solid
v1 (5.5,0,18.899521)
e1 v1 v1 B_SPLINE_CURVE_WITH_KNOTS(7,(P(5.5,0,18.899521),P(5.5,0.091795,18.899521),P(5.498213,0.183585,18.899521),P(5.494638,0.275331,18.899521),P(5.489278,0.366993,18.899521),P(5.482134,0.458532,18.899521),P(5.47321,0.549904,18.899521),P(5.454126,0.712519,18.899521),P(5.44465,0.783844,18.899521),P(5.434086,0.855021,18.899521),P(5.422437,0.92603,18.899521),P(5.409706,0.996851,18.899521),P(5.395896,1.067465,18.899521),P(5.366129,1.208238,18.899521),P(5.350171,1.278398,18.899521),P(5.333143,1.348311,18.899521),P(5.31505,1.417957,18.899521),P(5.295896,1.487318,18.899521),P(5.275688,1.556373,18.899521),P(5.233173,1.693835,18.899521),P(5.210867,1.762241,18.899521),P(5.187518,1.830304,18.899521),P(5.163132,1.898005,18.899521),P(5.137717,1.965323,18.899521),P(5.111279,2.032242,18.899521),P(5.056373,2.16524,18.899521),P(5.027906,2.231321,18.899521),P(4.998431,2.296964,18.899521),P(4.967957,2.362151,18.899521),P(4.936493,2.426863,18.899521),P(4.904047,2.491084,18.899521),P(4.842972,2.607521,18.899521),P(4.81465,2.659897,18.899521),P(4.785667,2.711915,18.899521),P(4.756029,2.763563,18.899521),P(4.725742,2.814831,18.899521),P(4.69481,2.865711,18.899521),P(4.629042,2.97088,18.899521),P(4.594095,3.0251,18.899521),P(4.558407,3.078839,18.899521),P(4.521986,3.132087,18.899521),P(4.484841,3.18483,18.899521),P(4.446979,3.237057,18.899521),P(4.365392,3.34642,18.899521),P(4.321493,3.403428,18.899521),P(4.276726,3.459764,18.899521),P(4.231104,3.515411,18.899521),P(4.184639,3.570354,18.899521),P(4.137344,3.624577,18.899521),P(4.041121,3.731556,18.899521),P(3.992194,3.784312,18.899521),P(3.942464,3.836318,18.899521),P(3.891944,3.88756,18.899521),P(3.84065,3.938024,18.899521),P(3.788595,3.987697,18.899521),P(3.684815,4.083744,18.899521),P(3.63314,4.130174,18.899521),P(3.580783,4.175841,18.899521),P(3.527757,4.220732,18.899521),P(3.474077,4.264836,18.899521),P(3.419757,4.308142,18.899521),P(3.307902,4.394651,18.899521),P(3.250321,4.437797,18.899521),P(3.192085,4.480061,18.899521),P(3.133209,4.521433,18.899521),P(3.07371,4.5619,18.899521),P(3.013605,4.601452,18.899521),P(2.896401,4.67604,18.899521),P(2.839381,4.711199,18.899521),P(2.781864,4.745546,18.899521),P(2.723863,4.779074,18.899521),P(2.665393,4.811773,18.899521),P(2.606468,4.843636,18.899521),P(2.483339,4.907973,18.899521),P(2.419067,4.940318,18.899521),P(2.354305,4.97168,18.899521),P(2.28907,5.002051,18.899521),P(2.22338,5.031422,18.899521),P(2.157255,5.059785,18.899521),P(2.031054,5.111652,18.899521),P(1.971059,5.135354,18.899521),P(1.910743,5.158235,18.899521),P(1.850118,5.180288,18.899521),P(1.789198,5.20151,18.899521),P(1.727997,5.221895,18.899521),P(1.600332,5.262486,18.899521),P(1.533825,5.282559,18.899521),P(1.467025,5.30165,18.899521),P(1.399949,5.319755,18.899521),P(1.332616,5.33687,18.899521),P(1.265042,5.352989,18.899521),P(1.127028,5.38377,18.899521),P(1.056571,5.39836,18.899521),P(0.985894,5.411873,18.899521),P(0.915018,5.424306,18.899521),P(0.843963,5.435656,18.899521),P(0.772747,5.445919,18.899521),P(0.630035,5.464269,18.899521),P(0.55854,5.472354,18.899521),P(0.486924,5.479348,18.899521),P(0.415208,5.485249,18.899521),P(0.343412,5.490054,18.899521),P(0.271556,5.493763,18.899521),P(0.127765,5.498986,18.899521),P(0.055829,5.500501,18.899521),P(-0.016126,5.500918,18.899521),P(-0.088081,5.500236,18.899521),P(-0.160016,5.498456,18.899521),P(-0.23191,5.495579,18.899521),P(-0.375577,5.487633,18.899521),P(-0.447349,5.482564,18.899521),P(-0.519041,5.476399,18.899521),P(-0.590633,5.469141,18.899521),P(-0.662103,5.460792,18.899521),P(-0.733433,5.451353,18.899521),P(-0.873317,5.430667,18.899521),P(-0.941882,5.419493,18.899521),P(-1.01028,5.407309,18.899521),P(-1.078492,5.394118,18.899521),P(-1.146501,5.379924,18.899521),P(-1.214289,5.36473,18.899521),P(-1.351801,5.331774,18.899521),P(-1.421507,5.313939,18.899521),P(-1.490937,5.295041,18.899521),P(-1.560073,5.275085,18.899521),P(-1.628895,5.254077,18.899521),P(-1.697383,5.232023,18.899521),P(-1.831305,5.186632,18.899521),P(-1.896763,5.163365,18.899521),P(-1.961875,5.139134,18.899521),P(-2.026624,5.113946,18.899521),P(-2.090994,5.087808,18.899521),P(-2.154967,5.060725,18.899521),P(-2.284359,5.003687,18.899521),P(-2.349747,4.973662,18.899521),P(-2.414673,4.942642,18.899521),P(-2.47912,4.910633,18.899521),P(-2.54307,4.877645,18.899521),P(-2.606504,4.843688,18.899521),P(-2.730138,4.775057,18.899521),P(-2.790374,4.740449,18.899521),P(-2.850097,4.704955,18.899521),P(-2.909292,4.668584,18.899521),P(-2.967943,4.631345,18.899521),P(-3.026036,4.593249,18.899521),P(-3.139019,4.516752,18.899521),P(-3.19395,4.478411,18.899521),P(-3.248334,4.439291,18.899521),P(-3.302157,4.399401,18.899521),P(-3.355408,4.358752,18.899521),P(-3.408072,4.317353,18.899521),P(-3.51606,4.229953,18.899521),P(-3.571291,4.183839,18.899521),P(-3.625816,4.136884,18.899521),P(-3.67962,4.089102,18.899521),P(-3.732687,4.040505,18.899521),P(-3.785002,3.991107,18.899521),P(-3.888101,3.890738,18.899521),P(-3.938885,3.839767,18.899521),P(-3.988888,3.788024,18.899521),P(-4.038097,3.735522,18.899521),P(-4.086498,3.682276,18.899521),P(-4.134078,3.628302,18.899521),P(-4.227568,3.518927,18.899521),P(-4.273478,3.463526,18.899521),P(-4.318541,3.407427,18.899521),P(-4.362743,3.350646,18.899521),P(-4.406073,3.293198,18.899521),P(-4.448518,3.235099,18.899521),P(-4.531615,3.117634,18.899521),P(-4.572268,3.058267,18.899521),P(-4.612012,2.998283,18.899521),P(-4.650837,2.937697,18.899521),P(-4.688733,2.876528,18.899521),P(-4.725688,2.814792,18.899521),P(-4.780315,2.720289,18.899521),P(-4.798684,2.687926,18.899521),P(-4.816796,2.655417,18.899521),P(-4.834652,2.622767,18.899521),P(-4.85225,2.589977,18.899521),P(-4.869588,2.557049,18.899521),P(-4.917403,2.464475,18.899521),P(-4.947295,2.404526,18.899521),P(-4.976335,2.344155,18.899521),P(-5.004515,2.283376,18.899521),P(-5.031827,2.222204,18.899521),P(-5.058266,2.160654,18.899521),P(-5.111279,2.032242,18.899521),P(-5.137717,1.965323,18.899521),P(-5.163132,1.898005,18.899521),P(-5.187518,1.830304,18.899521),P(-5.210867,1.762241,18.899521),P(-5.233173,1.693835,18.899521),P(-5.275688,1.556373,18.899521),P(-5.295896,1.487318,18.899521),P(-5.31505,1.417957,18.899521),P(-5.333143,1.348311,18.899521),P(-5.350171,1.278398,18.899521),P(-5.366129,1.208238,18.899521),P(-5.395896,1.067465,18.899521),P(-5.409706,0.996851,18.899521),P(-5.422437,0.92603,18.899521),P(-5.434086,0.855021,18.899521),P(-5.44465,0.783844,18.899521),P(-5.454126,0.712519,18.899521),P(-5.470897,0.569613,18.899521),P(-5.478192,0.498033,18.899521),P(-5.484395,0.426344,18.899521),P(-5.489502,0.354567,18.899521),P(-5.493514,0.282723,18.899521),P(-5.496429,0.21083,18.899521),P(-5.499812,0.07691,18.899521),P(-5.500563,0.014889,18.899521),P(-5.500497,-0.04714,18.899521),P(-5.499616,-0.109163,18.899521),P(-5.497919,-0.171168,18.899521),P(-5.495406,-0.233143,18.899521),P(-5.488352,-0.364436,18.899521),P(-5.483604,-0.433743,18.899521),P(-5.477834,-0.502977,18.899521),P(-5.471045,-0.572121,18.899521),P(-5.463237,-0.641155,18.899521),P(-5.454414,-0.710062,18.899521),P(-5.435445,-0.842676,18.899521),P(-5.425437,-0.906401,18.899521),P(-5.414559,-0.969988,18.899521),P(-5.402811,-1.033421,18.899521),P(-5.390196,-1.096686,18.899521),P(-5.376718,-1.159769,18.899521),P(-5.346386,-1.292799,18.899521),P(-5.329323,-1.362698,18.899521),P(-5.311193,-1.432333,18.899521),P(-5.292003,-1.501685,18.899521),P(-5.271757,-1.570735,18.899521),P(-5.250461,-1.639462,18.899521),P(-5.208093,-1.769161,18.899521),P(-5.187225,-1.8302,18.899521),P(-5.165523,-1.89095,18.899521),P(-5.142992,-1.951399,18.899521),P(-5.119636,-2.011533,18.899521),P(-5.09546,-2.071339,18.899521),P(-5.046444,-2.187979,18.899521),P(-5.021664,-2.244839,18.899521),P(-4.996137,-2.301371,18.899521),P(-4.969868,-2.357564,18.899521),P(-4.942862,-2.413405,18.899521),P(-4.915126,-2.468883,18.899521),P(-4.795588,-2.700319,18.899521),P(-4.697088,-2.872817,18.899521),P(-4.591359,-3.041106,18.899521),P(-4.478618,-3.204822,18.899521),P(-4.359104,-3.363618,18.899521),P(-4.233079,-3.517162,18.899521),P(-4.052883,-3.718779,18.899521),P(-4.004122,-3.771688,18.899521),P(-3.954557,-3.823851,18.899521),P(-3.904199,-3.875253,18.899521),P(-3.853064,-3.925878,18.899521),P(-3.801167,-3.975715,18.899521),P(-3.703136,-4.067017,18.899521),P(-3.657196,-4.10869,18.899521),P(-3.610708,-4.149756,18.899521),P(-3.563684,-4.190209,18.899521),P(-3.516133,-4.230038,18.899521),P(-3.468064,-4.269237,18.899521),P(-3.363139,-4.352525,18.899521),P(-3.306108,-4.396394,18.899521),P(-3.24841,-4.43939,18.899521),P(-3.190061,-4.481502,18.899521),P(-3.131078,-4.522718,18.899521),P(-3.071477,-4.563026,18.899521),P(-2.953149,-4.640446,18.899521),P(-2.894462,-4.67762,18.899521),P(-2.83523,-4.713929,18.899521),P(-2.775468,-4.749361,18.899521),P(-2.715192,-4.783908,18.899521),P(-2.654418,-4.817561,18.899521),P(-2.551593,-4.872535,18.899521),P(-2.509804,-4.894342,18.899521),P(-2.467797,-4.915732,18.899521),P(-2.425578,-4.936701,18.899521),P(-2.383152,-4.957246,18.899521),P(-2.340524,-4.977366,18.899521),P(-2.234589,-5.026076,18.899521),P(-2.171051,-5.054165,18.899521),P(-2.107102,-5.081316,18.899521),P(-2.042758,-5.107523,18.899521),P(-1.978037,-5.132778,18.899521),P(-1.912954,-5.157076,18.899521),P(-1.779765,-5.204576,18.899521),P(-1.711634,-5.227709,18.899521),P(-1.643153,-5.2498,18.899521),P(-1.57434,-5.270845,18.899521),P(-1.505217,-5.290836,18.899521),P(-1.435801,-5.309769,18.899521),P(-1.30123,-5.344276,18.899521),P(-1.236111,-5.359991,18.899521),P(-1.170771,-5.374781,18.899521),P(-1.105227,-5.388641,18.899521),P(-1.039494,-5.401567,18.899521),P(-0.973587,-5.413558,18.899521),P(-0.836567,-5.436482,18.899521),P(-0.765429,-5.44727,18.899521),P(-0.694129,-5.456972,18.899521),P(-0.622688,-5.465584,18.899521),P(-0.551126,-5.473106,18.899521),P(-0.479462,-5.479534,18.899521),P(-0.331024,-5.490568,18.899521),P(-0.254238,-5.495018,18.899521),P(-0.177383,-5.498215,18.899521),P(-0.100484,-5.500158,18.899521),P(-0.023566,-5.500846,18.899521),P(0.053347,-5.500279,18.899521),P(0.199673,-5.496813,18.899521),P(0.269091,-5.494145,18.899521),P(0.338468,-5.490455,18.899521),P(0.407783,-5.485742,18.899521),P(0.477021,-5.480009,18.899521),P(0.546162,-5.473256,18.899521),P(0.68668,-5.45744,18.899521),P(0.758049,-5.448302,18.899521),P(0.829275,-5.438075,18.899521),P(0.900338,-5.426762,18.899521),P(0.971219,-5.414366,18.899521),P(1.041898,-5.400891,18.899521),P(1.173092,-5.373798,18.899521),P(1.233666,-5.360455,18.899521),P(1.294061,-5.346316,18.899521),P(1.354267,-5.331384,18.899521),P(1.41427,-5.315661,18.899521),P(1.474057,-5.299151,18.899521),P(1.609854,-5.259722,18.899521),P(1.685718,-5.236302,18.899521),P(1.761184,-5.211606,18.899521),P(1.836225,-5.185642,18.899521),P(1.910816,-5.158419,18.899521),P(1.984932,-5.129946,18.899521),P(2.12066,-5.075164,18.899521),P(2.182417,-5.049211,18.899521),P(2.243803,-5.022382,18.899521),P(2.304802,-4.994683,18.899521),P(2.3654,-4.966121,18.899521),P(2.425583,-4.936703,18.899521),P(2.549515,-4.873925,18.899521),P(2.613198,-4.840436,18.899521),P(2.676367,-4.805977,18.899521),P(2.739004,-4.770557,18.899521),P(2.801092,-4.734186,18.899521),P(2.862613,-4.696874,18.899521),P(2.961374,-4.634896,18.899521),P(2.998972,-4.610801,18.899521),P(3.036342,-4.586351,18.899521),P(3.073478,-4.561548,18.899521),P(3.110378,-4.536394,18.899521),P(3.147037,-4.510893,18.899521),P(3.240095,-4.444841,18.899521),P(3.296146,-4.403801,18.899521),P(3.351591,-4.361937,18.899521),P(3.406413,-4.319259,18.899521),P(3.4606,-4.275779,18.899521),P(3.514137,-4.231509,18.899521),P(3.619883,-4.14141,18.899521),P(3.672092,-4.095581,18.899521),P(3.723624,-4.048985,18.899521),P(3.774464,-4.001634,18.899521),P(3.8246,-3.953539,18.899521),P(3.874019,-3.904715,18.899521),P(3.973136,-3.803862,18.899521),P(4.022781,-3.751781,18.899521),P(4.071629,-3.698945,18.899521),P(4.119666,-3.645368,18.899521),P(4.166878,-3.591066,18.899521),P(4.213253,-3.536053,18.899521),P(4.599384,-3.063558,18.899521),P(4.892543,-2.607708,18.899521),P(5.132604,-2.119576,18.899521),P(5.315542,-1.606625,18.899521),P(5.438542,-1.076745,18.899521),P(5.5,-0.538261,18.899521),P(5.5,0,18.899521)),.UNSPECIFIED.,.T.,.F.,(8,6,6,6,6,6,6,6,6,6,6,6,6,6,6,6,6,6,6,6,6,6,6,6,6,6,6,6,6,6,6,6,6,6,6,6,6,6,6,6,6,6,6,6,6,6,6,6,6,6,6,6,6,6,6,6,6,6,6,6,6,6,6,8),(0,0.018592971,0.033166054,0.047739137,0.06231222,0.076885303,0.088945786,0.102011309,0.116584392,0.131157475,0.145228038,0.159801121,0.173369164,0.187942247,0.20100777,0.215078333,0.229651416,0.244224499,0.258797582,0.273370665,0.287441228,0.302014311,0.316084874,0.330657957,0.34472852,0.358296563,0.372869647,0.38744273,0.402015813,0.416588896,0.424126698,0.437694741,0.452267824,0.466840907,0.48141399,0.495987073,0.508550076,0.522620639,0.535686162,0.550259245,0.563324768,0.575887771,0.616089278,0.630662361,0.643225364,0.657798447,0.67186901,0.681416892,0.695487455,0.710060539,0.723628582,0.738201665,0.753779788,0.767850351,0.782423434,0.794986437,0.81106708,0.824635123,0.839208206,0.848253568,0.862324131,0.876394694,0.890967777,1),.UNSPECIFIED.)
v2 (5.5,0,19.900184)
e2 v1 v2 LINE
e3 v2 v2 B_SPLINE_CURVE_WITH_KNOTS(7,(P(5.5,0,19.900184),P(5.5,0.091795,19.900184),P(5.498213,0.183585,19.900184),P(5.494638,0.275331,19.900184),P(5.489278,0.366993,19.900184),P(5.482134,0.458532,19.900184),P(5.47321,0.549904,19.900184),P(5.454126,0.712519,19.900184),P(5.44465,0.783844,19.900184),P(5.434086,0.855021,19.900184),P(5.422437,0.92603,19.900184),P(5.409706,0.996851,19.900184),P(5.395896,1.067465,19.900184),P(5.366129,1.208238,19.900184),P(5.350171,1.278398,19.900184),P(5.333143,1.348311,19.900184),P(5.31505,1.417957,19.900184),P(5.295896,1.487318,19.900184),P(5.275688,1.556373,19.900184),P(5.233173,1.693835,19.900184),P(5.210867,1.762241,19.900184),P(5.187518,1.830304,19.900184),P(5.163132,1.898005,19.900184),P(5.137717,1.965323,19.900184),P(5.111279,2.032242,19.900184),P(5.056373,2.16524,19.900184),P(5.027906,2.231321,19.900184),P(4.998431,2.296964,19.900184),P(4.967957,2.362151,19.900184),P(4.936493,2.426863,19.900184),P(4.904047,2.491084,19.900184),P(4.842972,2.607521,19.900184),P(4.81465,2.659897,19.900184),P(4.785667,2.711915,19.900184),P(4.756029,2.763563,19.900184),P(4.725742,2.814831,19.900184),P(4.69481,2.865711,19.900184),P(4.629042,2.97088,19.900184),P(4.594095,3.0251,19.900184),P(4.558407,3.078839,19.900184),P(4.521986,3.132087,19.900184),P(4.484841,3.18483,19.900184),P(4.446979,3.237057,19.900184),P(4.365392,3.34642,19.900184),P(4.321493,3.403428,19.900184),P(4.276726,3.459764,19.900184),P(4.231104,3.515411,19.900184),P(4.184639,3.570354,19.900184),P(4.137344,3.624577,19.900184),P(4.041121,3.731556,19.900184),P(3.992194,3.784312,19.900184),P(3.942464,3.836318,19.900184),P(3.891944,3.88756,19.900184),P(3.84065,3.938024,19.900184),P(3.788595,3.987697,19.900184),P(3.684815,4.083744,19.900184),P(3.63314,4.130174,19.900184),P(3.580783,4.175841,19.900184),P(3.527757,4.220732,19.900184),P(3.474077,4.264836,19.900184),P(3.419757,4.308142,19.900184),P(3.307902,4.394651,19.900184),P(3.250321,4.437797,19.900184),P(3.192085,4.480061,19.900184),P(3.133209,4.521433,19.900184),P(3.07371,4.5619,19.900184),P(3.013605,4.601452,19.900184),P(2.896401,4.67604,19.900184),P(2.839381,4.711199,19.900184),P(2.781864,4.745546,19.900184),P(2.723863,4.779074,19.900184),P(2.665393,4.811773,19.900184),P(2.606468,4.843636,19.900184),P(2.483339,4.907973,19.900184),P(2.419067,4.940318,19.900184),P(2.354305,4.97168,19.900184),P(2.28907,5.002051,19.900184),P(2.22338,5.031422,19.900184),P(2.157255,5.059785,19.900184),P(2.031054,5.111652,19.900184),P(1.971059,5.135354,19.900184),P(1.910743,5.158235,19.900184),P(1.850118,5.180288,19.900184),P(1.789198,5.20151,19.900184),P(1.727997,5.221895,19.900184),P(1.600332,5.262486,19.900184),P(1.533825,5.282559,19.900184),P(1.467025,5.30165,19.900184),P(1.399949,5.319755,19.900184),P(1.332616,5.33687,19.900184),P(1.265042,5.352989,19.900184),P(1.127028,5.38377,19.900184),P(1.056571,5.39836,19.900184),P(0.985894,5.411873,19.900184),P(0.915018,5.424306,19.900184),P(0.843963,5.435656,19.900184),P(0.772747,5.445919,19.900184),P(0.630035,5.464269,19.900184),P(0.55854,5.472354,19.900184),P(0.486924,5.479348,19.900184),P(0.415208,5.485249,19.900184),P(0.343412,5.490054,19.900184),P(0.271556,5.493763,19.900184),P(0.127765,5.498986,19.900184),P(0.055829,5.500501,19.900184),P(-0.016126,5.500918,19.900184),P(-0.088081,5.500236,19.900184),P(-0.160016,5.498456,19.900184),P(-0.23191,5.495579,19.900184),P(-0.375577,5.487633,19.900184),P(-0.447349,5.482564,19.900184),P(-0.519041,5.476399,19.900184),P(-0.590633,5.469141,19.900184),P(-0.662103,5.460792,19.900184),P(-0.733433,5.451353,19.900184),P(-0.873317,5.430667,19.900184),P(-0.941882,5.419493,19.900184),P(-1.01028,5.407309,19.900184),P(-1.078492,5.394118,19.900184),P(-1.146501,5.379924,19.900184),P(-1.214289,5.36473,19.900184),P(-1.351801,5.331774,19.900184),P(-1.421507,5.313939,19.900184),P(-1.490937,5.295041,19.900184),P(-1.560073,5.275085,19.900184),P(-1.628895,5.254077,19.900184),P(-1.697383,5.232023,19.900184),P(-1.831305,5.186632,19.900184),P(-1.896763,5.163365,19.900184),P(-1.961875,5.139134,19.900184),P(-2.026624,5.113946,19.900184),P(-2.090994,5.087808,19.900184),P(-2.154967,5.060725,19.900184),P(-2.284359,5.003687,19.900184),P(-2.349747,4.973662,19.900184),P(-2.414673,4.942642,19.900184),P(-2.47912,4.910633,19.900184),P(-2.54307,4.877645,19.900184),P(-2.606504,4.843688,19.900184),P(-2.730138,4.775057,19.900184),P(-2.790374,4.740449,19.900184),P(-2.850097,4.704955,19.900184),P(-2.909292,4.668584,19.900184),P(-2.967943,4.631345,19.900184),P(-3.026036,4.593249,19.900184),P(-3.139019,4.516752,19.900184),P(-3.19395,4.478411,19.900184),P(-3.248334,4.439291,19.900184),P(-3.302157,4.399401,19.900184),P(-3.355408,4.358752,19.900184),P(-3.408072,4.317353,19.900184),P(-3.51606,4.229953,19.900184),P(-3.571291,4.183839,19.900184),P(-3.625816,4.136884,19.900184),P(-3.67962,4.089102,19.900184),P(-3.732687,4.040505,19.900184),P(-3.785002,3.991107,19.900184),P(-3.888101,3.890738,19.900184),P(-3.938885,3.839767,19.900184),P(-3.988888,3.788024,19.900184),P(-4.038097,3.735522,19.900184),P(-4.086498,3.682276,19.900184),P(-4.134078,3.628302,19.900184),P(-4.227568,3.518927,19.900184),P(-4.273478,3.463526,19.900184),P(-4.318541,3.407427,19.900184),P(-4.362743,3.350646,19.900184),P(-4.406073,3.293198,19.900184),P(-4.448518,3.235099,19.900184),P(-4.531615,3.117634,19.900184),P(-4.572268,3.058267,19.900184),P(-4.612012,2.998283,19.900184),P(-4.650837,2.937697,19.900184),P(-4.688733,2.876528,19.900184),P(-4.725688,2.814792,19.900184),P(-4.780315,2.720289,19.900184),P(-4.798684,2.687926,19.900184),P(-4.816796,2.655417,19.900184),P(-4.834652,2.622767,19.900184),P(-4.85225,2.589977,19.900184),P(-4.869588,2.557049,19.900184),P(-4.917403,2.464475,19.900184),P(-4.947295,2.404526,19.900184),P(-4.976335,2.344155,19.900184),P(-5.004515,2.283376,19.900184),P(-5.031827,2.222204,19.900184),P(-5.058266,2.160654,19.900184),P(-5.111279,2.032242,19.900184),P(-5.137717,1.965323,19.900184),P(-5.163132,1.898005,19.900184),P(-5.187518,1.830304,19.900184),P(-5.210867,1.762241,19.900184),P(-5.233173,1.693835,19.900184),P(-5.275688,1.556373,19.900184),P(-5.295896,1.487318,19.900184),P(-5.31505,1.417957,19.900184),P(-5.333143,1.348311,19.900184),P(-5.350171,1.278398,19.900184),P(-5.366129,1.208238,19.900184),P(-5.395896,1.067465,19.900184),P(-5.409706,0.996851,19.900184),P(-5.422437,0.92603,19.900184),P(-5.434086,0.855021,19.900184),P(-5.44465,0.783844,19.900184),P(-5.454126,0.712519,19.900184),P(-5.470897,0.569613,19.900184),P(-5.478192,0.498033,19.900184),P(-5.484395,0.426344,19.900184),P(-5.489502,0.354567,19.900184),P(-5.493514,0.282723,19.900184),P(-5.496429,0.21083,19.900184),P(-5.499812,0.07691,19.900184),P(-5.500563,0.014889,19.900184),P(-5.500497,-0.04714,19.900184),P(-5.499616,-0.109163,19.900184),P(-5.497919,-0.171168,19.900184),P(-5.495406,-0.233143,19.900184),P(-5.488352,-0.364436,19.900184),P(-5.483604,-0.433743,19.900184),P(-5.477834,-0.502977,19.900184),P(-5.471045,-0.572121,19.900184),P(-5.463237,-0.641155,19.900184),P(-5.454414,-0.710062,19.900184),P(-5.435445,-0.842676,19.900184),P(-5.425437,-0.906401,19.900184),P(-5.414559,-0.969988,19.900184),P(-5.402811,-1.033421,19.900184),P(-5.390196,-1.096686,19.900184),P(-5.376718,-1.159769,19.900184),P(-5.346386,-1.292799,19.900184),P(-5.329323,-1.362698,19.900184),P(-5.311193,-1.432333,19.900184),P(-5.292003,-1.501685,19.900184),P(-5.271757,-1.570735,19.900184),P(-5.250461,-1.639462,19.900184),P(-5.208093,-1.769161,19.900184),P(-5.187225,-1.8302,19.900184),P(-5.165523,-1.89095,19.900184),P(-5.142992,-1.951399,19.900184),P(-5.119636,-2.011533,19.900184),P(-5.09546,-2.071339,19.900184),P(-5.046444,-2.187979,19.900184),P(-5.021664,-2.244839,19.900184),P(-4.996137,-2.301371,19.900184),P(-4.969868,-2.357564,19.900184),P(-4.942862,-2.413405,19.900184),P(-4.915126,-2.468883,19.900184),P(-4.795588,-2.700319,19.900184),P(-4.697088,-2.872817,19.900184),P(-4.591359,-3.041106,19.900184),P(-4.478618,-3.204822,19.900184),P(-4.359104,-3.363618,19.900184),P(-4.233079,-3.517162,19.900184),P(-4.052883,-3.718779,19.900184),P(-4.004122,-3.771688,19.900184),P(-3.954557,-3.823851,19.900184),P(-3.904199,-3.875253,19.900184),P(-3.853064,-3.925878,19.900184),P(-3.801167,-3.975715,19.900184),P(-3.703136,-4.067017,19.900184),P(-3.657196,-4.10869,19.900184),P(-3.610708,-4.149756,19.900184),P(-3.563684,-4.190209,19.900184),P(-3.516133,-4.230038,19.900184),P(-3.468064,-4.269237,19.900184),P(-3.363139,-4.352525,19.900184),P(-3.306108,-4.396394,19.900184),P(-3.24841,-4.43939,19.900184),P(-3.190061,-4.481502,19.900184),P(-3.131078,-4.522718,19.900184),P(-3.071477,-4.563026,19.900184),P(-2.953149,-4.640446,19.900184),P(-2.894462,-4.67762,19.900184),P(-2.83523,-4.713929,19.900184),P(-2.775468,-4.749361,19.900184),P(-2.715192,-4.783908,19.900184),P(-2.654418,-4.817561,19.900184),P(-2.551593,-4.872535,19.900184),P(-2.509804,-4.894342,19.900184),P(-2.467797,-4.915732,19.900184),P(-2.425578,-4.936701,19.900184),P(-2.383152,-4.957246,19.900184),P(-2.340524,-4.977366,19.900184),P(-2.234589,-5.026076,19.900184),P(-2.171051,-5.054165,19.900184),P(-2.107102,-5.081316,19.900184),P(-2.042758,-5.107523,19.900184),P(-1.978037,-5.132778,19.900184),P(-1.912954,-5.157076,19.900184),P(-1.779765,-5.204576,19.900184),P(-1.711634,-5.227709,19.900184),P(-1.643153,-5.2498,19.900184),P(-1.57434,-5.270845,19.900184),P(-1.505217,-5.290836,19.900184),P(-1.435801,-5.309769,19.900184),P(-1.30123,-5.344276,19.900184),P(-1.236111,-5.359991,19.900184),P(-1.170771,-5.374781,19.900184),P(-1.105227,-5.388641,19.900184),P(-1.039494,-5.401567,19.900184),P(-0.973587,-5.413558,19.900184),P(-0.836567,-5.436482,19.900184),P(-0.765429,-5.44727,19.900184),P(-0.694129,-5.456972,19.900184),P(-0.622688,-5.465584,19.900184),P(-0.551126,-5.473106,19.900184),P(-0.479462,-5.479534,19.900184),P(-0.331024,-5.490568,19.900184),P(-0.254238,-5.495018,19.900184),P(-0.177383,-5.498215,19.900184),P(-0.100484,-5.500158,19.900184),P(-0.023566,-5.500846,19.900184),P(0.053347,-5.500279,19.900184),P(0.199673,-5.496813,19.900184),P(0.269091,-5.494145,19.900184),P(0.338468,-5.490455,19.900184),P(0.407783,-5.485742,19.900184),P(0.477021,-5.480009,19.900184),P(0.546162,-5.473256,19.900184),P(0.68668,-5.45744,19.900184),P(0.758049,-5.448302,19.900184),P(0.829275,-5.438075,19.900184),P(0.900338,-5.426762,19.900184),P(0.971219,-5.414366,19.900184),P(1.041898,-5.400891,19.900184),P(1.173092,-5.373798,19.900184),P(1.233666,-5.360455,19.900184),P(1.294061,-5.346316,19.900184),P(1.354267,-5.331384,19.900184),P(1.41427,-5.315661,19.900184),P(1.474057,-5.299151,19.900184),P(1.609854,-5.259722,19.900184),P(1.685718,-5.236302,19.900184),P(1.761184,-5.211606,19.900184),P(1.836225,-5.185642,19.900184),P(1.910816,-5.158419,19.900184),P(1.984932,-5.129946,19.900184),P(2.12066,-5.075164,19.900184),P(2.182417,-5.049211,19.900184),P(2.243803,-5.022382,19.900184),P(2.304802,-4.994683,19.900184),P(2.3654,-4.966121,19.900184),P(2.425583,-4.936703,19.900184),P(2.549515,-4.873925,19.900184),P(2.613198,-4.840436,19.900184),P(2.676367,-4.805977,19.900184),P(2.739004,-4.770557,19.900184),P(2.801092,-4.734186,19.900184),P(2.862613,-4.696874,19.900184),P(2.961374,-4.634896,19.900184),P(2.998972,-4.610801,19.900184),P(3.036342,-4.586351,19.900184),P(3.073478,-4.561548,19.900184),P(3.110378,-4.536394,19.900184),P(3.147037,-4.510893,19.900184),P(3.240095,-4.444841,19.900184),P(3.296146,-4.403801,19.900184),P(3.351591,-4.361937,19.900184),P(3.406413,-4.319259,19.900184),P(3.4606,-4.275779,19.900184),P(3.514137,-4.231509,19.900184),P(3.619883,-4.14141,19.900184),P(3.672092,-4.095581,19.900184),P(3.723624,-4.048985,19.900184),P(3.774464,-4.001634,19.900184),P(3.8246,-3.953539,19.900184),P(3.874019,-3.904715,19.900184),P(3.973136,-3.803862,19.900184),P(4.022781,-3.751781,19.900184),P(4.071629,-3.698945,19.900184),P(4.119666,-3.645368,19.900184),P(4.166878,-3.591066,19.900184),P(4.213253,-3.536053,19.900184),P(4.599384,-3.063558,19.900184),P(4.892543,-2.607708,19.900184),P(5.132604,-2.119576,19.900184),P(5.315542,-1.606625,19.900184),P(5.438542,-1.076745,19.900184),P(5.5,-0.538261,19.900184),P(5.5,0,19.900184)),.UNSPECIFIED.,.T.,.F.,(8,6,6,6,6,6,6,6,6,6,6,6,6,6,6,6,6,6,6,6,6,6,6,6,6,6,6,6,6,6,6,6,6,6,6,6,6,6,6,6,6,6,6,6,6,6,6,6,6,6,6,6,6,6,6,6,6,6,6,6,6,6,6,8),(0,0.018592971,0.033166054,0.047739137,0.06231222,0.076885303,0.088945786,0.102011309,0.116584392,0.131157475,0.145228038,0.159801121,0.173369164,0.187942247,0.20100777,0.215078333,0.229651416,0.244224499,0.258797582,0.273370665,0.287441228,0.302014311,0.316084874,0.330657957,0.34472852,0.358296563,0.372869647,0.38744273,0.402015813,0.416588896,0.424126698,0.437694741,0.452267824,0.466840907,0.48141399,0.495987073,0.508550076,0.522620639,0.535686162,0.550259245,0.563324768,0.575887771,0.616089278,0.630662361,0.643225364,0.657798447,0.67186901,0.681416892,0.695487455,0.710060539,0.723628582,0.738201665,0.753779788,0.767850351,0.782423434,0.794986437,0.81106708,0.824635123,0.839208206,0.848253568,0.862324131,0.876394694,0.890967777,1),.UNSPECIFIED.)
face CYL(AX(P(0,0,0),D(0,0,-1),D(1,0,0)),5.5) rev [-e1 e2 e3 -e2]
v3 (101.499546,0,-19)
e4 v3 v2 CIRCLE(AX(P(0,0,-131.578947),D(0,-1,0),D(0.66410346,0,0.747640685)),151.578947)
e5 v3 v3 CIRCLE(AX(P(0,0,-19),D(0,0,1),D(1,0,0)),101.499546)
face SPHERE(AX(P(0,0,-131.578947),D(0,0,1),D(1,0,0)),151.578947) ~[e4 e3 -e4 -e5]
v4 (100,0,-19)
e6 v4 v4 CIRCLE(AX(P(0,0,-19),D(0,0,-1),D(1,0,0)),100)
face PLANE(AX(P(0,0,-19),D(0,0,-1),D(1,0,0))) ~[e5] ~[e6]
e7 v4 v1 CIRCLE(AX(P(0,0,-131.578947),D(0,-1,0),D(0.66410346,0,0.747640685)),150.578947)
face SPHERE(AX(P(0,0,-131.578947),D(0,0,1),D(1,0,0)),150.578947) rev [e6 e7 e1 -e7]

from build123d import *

# Parameters (mm, degrees)
F2_T     = 1
F3_R     = 5.5
F4_DEPTH = 20.001


with BuildPart() as f1:
    # F0 (on Front) → F1 (revolve)
    with BuildSketch(Plane.XZ):
        with BuildLine():
            Line((0, 19), (0, -19))
            Line((0, -19), (100, -19))
            ThreePointArc((100, -19), (53.4883164813, 9.1797802139), (0, 19))
        make_face()
    revolve(axis=Axis((0, 0, 0), (0, 0, -1)))

    # F2
    f2_openings = [f1.faces().sort_by_distance(p)[0] for p in [
        (0, 0, -19),
    ]]
    offset(amount=F2_T, openings=f2_openings)

    # F3 (on Top) → F4 (cut, through all)
    with BuildSketch(Plane.XY):
        Circle(F3_R)
    extrude(amount=F4_DEPTH, mode=Mode.SUBTRACT)


solid = f1.part
